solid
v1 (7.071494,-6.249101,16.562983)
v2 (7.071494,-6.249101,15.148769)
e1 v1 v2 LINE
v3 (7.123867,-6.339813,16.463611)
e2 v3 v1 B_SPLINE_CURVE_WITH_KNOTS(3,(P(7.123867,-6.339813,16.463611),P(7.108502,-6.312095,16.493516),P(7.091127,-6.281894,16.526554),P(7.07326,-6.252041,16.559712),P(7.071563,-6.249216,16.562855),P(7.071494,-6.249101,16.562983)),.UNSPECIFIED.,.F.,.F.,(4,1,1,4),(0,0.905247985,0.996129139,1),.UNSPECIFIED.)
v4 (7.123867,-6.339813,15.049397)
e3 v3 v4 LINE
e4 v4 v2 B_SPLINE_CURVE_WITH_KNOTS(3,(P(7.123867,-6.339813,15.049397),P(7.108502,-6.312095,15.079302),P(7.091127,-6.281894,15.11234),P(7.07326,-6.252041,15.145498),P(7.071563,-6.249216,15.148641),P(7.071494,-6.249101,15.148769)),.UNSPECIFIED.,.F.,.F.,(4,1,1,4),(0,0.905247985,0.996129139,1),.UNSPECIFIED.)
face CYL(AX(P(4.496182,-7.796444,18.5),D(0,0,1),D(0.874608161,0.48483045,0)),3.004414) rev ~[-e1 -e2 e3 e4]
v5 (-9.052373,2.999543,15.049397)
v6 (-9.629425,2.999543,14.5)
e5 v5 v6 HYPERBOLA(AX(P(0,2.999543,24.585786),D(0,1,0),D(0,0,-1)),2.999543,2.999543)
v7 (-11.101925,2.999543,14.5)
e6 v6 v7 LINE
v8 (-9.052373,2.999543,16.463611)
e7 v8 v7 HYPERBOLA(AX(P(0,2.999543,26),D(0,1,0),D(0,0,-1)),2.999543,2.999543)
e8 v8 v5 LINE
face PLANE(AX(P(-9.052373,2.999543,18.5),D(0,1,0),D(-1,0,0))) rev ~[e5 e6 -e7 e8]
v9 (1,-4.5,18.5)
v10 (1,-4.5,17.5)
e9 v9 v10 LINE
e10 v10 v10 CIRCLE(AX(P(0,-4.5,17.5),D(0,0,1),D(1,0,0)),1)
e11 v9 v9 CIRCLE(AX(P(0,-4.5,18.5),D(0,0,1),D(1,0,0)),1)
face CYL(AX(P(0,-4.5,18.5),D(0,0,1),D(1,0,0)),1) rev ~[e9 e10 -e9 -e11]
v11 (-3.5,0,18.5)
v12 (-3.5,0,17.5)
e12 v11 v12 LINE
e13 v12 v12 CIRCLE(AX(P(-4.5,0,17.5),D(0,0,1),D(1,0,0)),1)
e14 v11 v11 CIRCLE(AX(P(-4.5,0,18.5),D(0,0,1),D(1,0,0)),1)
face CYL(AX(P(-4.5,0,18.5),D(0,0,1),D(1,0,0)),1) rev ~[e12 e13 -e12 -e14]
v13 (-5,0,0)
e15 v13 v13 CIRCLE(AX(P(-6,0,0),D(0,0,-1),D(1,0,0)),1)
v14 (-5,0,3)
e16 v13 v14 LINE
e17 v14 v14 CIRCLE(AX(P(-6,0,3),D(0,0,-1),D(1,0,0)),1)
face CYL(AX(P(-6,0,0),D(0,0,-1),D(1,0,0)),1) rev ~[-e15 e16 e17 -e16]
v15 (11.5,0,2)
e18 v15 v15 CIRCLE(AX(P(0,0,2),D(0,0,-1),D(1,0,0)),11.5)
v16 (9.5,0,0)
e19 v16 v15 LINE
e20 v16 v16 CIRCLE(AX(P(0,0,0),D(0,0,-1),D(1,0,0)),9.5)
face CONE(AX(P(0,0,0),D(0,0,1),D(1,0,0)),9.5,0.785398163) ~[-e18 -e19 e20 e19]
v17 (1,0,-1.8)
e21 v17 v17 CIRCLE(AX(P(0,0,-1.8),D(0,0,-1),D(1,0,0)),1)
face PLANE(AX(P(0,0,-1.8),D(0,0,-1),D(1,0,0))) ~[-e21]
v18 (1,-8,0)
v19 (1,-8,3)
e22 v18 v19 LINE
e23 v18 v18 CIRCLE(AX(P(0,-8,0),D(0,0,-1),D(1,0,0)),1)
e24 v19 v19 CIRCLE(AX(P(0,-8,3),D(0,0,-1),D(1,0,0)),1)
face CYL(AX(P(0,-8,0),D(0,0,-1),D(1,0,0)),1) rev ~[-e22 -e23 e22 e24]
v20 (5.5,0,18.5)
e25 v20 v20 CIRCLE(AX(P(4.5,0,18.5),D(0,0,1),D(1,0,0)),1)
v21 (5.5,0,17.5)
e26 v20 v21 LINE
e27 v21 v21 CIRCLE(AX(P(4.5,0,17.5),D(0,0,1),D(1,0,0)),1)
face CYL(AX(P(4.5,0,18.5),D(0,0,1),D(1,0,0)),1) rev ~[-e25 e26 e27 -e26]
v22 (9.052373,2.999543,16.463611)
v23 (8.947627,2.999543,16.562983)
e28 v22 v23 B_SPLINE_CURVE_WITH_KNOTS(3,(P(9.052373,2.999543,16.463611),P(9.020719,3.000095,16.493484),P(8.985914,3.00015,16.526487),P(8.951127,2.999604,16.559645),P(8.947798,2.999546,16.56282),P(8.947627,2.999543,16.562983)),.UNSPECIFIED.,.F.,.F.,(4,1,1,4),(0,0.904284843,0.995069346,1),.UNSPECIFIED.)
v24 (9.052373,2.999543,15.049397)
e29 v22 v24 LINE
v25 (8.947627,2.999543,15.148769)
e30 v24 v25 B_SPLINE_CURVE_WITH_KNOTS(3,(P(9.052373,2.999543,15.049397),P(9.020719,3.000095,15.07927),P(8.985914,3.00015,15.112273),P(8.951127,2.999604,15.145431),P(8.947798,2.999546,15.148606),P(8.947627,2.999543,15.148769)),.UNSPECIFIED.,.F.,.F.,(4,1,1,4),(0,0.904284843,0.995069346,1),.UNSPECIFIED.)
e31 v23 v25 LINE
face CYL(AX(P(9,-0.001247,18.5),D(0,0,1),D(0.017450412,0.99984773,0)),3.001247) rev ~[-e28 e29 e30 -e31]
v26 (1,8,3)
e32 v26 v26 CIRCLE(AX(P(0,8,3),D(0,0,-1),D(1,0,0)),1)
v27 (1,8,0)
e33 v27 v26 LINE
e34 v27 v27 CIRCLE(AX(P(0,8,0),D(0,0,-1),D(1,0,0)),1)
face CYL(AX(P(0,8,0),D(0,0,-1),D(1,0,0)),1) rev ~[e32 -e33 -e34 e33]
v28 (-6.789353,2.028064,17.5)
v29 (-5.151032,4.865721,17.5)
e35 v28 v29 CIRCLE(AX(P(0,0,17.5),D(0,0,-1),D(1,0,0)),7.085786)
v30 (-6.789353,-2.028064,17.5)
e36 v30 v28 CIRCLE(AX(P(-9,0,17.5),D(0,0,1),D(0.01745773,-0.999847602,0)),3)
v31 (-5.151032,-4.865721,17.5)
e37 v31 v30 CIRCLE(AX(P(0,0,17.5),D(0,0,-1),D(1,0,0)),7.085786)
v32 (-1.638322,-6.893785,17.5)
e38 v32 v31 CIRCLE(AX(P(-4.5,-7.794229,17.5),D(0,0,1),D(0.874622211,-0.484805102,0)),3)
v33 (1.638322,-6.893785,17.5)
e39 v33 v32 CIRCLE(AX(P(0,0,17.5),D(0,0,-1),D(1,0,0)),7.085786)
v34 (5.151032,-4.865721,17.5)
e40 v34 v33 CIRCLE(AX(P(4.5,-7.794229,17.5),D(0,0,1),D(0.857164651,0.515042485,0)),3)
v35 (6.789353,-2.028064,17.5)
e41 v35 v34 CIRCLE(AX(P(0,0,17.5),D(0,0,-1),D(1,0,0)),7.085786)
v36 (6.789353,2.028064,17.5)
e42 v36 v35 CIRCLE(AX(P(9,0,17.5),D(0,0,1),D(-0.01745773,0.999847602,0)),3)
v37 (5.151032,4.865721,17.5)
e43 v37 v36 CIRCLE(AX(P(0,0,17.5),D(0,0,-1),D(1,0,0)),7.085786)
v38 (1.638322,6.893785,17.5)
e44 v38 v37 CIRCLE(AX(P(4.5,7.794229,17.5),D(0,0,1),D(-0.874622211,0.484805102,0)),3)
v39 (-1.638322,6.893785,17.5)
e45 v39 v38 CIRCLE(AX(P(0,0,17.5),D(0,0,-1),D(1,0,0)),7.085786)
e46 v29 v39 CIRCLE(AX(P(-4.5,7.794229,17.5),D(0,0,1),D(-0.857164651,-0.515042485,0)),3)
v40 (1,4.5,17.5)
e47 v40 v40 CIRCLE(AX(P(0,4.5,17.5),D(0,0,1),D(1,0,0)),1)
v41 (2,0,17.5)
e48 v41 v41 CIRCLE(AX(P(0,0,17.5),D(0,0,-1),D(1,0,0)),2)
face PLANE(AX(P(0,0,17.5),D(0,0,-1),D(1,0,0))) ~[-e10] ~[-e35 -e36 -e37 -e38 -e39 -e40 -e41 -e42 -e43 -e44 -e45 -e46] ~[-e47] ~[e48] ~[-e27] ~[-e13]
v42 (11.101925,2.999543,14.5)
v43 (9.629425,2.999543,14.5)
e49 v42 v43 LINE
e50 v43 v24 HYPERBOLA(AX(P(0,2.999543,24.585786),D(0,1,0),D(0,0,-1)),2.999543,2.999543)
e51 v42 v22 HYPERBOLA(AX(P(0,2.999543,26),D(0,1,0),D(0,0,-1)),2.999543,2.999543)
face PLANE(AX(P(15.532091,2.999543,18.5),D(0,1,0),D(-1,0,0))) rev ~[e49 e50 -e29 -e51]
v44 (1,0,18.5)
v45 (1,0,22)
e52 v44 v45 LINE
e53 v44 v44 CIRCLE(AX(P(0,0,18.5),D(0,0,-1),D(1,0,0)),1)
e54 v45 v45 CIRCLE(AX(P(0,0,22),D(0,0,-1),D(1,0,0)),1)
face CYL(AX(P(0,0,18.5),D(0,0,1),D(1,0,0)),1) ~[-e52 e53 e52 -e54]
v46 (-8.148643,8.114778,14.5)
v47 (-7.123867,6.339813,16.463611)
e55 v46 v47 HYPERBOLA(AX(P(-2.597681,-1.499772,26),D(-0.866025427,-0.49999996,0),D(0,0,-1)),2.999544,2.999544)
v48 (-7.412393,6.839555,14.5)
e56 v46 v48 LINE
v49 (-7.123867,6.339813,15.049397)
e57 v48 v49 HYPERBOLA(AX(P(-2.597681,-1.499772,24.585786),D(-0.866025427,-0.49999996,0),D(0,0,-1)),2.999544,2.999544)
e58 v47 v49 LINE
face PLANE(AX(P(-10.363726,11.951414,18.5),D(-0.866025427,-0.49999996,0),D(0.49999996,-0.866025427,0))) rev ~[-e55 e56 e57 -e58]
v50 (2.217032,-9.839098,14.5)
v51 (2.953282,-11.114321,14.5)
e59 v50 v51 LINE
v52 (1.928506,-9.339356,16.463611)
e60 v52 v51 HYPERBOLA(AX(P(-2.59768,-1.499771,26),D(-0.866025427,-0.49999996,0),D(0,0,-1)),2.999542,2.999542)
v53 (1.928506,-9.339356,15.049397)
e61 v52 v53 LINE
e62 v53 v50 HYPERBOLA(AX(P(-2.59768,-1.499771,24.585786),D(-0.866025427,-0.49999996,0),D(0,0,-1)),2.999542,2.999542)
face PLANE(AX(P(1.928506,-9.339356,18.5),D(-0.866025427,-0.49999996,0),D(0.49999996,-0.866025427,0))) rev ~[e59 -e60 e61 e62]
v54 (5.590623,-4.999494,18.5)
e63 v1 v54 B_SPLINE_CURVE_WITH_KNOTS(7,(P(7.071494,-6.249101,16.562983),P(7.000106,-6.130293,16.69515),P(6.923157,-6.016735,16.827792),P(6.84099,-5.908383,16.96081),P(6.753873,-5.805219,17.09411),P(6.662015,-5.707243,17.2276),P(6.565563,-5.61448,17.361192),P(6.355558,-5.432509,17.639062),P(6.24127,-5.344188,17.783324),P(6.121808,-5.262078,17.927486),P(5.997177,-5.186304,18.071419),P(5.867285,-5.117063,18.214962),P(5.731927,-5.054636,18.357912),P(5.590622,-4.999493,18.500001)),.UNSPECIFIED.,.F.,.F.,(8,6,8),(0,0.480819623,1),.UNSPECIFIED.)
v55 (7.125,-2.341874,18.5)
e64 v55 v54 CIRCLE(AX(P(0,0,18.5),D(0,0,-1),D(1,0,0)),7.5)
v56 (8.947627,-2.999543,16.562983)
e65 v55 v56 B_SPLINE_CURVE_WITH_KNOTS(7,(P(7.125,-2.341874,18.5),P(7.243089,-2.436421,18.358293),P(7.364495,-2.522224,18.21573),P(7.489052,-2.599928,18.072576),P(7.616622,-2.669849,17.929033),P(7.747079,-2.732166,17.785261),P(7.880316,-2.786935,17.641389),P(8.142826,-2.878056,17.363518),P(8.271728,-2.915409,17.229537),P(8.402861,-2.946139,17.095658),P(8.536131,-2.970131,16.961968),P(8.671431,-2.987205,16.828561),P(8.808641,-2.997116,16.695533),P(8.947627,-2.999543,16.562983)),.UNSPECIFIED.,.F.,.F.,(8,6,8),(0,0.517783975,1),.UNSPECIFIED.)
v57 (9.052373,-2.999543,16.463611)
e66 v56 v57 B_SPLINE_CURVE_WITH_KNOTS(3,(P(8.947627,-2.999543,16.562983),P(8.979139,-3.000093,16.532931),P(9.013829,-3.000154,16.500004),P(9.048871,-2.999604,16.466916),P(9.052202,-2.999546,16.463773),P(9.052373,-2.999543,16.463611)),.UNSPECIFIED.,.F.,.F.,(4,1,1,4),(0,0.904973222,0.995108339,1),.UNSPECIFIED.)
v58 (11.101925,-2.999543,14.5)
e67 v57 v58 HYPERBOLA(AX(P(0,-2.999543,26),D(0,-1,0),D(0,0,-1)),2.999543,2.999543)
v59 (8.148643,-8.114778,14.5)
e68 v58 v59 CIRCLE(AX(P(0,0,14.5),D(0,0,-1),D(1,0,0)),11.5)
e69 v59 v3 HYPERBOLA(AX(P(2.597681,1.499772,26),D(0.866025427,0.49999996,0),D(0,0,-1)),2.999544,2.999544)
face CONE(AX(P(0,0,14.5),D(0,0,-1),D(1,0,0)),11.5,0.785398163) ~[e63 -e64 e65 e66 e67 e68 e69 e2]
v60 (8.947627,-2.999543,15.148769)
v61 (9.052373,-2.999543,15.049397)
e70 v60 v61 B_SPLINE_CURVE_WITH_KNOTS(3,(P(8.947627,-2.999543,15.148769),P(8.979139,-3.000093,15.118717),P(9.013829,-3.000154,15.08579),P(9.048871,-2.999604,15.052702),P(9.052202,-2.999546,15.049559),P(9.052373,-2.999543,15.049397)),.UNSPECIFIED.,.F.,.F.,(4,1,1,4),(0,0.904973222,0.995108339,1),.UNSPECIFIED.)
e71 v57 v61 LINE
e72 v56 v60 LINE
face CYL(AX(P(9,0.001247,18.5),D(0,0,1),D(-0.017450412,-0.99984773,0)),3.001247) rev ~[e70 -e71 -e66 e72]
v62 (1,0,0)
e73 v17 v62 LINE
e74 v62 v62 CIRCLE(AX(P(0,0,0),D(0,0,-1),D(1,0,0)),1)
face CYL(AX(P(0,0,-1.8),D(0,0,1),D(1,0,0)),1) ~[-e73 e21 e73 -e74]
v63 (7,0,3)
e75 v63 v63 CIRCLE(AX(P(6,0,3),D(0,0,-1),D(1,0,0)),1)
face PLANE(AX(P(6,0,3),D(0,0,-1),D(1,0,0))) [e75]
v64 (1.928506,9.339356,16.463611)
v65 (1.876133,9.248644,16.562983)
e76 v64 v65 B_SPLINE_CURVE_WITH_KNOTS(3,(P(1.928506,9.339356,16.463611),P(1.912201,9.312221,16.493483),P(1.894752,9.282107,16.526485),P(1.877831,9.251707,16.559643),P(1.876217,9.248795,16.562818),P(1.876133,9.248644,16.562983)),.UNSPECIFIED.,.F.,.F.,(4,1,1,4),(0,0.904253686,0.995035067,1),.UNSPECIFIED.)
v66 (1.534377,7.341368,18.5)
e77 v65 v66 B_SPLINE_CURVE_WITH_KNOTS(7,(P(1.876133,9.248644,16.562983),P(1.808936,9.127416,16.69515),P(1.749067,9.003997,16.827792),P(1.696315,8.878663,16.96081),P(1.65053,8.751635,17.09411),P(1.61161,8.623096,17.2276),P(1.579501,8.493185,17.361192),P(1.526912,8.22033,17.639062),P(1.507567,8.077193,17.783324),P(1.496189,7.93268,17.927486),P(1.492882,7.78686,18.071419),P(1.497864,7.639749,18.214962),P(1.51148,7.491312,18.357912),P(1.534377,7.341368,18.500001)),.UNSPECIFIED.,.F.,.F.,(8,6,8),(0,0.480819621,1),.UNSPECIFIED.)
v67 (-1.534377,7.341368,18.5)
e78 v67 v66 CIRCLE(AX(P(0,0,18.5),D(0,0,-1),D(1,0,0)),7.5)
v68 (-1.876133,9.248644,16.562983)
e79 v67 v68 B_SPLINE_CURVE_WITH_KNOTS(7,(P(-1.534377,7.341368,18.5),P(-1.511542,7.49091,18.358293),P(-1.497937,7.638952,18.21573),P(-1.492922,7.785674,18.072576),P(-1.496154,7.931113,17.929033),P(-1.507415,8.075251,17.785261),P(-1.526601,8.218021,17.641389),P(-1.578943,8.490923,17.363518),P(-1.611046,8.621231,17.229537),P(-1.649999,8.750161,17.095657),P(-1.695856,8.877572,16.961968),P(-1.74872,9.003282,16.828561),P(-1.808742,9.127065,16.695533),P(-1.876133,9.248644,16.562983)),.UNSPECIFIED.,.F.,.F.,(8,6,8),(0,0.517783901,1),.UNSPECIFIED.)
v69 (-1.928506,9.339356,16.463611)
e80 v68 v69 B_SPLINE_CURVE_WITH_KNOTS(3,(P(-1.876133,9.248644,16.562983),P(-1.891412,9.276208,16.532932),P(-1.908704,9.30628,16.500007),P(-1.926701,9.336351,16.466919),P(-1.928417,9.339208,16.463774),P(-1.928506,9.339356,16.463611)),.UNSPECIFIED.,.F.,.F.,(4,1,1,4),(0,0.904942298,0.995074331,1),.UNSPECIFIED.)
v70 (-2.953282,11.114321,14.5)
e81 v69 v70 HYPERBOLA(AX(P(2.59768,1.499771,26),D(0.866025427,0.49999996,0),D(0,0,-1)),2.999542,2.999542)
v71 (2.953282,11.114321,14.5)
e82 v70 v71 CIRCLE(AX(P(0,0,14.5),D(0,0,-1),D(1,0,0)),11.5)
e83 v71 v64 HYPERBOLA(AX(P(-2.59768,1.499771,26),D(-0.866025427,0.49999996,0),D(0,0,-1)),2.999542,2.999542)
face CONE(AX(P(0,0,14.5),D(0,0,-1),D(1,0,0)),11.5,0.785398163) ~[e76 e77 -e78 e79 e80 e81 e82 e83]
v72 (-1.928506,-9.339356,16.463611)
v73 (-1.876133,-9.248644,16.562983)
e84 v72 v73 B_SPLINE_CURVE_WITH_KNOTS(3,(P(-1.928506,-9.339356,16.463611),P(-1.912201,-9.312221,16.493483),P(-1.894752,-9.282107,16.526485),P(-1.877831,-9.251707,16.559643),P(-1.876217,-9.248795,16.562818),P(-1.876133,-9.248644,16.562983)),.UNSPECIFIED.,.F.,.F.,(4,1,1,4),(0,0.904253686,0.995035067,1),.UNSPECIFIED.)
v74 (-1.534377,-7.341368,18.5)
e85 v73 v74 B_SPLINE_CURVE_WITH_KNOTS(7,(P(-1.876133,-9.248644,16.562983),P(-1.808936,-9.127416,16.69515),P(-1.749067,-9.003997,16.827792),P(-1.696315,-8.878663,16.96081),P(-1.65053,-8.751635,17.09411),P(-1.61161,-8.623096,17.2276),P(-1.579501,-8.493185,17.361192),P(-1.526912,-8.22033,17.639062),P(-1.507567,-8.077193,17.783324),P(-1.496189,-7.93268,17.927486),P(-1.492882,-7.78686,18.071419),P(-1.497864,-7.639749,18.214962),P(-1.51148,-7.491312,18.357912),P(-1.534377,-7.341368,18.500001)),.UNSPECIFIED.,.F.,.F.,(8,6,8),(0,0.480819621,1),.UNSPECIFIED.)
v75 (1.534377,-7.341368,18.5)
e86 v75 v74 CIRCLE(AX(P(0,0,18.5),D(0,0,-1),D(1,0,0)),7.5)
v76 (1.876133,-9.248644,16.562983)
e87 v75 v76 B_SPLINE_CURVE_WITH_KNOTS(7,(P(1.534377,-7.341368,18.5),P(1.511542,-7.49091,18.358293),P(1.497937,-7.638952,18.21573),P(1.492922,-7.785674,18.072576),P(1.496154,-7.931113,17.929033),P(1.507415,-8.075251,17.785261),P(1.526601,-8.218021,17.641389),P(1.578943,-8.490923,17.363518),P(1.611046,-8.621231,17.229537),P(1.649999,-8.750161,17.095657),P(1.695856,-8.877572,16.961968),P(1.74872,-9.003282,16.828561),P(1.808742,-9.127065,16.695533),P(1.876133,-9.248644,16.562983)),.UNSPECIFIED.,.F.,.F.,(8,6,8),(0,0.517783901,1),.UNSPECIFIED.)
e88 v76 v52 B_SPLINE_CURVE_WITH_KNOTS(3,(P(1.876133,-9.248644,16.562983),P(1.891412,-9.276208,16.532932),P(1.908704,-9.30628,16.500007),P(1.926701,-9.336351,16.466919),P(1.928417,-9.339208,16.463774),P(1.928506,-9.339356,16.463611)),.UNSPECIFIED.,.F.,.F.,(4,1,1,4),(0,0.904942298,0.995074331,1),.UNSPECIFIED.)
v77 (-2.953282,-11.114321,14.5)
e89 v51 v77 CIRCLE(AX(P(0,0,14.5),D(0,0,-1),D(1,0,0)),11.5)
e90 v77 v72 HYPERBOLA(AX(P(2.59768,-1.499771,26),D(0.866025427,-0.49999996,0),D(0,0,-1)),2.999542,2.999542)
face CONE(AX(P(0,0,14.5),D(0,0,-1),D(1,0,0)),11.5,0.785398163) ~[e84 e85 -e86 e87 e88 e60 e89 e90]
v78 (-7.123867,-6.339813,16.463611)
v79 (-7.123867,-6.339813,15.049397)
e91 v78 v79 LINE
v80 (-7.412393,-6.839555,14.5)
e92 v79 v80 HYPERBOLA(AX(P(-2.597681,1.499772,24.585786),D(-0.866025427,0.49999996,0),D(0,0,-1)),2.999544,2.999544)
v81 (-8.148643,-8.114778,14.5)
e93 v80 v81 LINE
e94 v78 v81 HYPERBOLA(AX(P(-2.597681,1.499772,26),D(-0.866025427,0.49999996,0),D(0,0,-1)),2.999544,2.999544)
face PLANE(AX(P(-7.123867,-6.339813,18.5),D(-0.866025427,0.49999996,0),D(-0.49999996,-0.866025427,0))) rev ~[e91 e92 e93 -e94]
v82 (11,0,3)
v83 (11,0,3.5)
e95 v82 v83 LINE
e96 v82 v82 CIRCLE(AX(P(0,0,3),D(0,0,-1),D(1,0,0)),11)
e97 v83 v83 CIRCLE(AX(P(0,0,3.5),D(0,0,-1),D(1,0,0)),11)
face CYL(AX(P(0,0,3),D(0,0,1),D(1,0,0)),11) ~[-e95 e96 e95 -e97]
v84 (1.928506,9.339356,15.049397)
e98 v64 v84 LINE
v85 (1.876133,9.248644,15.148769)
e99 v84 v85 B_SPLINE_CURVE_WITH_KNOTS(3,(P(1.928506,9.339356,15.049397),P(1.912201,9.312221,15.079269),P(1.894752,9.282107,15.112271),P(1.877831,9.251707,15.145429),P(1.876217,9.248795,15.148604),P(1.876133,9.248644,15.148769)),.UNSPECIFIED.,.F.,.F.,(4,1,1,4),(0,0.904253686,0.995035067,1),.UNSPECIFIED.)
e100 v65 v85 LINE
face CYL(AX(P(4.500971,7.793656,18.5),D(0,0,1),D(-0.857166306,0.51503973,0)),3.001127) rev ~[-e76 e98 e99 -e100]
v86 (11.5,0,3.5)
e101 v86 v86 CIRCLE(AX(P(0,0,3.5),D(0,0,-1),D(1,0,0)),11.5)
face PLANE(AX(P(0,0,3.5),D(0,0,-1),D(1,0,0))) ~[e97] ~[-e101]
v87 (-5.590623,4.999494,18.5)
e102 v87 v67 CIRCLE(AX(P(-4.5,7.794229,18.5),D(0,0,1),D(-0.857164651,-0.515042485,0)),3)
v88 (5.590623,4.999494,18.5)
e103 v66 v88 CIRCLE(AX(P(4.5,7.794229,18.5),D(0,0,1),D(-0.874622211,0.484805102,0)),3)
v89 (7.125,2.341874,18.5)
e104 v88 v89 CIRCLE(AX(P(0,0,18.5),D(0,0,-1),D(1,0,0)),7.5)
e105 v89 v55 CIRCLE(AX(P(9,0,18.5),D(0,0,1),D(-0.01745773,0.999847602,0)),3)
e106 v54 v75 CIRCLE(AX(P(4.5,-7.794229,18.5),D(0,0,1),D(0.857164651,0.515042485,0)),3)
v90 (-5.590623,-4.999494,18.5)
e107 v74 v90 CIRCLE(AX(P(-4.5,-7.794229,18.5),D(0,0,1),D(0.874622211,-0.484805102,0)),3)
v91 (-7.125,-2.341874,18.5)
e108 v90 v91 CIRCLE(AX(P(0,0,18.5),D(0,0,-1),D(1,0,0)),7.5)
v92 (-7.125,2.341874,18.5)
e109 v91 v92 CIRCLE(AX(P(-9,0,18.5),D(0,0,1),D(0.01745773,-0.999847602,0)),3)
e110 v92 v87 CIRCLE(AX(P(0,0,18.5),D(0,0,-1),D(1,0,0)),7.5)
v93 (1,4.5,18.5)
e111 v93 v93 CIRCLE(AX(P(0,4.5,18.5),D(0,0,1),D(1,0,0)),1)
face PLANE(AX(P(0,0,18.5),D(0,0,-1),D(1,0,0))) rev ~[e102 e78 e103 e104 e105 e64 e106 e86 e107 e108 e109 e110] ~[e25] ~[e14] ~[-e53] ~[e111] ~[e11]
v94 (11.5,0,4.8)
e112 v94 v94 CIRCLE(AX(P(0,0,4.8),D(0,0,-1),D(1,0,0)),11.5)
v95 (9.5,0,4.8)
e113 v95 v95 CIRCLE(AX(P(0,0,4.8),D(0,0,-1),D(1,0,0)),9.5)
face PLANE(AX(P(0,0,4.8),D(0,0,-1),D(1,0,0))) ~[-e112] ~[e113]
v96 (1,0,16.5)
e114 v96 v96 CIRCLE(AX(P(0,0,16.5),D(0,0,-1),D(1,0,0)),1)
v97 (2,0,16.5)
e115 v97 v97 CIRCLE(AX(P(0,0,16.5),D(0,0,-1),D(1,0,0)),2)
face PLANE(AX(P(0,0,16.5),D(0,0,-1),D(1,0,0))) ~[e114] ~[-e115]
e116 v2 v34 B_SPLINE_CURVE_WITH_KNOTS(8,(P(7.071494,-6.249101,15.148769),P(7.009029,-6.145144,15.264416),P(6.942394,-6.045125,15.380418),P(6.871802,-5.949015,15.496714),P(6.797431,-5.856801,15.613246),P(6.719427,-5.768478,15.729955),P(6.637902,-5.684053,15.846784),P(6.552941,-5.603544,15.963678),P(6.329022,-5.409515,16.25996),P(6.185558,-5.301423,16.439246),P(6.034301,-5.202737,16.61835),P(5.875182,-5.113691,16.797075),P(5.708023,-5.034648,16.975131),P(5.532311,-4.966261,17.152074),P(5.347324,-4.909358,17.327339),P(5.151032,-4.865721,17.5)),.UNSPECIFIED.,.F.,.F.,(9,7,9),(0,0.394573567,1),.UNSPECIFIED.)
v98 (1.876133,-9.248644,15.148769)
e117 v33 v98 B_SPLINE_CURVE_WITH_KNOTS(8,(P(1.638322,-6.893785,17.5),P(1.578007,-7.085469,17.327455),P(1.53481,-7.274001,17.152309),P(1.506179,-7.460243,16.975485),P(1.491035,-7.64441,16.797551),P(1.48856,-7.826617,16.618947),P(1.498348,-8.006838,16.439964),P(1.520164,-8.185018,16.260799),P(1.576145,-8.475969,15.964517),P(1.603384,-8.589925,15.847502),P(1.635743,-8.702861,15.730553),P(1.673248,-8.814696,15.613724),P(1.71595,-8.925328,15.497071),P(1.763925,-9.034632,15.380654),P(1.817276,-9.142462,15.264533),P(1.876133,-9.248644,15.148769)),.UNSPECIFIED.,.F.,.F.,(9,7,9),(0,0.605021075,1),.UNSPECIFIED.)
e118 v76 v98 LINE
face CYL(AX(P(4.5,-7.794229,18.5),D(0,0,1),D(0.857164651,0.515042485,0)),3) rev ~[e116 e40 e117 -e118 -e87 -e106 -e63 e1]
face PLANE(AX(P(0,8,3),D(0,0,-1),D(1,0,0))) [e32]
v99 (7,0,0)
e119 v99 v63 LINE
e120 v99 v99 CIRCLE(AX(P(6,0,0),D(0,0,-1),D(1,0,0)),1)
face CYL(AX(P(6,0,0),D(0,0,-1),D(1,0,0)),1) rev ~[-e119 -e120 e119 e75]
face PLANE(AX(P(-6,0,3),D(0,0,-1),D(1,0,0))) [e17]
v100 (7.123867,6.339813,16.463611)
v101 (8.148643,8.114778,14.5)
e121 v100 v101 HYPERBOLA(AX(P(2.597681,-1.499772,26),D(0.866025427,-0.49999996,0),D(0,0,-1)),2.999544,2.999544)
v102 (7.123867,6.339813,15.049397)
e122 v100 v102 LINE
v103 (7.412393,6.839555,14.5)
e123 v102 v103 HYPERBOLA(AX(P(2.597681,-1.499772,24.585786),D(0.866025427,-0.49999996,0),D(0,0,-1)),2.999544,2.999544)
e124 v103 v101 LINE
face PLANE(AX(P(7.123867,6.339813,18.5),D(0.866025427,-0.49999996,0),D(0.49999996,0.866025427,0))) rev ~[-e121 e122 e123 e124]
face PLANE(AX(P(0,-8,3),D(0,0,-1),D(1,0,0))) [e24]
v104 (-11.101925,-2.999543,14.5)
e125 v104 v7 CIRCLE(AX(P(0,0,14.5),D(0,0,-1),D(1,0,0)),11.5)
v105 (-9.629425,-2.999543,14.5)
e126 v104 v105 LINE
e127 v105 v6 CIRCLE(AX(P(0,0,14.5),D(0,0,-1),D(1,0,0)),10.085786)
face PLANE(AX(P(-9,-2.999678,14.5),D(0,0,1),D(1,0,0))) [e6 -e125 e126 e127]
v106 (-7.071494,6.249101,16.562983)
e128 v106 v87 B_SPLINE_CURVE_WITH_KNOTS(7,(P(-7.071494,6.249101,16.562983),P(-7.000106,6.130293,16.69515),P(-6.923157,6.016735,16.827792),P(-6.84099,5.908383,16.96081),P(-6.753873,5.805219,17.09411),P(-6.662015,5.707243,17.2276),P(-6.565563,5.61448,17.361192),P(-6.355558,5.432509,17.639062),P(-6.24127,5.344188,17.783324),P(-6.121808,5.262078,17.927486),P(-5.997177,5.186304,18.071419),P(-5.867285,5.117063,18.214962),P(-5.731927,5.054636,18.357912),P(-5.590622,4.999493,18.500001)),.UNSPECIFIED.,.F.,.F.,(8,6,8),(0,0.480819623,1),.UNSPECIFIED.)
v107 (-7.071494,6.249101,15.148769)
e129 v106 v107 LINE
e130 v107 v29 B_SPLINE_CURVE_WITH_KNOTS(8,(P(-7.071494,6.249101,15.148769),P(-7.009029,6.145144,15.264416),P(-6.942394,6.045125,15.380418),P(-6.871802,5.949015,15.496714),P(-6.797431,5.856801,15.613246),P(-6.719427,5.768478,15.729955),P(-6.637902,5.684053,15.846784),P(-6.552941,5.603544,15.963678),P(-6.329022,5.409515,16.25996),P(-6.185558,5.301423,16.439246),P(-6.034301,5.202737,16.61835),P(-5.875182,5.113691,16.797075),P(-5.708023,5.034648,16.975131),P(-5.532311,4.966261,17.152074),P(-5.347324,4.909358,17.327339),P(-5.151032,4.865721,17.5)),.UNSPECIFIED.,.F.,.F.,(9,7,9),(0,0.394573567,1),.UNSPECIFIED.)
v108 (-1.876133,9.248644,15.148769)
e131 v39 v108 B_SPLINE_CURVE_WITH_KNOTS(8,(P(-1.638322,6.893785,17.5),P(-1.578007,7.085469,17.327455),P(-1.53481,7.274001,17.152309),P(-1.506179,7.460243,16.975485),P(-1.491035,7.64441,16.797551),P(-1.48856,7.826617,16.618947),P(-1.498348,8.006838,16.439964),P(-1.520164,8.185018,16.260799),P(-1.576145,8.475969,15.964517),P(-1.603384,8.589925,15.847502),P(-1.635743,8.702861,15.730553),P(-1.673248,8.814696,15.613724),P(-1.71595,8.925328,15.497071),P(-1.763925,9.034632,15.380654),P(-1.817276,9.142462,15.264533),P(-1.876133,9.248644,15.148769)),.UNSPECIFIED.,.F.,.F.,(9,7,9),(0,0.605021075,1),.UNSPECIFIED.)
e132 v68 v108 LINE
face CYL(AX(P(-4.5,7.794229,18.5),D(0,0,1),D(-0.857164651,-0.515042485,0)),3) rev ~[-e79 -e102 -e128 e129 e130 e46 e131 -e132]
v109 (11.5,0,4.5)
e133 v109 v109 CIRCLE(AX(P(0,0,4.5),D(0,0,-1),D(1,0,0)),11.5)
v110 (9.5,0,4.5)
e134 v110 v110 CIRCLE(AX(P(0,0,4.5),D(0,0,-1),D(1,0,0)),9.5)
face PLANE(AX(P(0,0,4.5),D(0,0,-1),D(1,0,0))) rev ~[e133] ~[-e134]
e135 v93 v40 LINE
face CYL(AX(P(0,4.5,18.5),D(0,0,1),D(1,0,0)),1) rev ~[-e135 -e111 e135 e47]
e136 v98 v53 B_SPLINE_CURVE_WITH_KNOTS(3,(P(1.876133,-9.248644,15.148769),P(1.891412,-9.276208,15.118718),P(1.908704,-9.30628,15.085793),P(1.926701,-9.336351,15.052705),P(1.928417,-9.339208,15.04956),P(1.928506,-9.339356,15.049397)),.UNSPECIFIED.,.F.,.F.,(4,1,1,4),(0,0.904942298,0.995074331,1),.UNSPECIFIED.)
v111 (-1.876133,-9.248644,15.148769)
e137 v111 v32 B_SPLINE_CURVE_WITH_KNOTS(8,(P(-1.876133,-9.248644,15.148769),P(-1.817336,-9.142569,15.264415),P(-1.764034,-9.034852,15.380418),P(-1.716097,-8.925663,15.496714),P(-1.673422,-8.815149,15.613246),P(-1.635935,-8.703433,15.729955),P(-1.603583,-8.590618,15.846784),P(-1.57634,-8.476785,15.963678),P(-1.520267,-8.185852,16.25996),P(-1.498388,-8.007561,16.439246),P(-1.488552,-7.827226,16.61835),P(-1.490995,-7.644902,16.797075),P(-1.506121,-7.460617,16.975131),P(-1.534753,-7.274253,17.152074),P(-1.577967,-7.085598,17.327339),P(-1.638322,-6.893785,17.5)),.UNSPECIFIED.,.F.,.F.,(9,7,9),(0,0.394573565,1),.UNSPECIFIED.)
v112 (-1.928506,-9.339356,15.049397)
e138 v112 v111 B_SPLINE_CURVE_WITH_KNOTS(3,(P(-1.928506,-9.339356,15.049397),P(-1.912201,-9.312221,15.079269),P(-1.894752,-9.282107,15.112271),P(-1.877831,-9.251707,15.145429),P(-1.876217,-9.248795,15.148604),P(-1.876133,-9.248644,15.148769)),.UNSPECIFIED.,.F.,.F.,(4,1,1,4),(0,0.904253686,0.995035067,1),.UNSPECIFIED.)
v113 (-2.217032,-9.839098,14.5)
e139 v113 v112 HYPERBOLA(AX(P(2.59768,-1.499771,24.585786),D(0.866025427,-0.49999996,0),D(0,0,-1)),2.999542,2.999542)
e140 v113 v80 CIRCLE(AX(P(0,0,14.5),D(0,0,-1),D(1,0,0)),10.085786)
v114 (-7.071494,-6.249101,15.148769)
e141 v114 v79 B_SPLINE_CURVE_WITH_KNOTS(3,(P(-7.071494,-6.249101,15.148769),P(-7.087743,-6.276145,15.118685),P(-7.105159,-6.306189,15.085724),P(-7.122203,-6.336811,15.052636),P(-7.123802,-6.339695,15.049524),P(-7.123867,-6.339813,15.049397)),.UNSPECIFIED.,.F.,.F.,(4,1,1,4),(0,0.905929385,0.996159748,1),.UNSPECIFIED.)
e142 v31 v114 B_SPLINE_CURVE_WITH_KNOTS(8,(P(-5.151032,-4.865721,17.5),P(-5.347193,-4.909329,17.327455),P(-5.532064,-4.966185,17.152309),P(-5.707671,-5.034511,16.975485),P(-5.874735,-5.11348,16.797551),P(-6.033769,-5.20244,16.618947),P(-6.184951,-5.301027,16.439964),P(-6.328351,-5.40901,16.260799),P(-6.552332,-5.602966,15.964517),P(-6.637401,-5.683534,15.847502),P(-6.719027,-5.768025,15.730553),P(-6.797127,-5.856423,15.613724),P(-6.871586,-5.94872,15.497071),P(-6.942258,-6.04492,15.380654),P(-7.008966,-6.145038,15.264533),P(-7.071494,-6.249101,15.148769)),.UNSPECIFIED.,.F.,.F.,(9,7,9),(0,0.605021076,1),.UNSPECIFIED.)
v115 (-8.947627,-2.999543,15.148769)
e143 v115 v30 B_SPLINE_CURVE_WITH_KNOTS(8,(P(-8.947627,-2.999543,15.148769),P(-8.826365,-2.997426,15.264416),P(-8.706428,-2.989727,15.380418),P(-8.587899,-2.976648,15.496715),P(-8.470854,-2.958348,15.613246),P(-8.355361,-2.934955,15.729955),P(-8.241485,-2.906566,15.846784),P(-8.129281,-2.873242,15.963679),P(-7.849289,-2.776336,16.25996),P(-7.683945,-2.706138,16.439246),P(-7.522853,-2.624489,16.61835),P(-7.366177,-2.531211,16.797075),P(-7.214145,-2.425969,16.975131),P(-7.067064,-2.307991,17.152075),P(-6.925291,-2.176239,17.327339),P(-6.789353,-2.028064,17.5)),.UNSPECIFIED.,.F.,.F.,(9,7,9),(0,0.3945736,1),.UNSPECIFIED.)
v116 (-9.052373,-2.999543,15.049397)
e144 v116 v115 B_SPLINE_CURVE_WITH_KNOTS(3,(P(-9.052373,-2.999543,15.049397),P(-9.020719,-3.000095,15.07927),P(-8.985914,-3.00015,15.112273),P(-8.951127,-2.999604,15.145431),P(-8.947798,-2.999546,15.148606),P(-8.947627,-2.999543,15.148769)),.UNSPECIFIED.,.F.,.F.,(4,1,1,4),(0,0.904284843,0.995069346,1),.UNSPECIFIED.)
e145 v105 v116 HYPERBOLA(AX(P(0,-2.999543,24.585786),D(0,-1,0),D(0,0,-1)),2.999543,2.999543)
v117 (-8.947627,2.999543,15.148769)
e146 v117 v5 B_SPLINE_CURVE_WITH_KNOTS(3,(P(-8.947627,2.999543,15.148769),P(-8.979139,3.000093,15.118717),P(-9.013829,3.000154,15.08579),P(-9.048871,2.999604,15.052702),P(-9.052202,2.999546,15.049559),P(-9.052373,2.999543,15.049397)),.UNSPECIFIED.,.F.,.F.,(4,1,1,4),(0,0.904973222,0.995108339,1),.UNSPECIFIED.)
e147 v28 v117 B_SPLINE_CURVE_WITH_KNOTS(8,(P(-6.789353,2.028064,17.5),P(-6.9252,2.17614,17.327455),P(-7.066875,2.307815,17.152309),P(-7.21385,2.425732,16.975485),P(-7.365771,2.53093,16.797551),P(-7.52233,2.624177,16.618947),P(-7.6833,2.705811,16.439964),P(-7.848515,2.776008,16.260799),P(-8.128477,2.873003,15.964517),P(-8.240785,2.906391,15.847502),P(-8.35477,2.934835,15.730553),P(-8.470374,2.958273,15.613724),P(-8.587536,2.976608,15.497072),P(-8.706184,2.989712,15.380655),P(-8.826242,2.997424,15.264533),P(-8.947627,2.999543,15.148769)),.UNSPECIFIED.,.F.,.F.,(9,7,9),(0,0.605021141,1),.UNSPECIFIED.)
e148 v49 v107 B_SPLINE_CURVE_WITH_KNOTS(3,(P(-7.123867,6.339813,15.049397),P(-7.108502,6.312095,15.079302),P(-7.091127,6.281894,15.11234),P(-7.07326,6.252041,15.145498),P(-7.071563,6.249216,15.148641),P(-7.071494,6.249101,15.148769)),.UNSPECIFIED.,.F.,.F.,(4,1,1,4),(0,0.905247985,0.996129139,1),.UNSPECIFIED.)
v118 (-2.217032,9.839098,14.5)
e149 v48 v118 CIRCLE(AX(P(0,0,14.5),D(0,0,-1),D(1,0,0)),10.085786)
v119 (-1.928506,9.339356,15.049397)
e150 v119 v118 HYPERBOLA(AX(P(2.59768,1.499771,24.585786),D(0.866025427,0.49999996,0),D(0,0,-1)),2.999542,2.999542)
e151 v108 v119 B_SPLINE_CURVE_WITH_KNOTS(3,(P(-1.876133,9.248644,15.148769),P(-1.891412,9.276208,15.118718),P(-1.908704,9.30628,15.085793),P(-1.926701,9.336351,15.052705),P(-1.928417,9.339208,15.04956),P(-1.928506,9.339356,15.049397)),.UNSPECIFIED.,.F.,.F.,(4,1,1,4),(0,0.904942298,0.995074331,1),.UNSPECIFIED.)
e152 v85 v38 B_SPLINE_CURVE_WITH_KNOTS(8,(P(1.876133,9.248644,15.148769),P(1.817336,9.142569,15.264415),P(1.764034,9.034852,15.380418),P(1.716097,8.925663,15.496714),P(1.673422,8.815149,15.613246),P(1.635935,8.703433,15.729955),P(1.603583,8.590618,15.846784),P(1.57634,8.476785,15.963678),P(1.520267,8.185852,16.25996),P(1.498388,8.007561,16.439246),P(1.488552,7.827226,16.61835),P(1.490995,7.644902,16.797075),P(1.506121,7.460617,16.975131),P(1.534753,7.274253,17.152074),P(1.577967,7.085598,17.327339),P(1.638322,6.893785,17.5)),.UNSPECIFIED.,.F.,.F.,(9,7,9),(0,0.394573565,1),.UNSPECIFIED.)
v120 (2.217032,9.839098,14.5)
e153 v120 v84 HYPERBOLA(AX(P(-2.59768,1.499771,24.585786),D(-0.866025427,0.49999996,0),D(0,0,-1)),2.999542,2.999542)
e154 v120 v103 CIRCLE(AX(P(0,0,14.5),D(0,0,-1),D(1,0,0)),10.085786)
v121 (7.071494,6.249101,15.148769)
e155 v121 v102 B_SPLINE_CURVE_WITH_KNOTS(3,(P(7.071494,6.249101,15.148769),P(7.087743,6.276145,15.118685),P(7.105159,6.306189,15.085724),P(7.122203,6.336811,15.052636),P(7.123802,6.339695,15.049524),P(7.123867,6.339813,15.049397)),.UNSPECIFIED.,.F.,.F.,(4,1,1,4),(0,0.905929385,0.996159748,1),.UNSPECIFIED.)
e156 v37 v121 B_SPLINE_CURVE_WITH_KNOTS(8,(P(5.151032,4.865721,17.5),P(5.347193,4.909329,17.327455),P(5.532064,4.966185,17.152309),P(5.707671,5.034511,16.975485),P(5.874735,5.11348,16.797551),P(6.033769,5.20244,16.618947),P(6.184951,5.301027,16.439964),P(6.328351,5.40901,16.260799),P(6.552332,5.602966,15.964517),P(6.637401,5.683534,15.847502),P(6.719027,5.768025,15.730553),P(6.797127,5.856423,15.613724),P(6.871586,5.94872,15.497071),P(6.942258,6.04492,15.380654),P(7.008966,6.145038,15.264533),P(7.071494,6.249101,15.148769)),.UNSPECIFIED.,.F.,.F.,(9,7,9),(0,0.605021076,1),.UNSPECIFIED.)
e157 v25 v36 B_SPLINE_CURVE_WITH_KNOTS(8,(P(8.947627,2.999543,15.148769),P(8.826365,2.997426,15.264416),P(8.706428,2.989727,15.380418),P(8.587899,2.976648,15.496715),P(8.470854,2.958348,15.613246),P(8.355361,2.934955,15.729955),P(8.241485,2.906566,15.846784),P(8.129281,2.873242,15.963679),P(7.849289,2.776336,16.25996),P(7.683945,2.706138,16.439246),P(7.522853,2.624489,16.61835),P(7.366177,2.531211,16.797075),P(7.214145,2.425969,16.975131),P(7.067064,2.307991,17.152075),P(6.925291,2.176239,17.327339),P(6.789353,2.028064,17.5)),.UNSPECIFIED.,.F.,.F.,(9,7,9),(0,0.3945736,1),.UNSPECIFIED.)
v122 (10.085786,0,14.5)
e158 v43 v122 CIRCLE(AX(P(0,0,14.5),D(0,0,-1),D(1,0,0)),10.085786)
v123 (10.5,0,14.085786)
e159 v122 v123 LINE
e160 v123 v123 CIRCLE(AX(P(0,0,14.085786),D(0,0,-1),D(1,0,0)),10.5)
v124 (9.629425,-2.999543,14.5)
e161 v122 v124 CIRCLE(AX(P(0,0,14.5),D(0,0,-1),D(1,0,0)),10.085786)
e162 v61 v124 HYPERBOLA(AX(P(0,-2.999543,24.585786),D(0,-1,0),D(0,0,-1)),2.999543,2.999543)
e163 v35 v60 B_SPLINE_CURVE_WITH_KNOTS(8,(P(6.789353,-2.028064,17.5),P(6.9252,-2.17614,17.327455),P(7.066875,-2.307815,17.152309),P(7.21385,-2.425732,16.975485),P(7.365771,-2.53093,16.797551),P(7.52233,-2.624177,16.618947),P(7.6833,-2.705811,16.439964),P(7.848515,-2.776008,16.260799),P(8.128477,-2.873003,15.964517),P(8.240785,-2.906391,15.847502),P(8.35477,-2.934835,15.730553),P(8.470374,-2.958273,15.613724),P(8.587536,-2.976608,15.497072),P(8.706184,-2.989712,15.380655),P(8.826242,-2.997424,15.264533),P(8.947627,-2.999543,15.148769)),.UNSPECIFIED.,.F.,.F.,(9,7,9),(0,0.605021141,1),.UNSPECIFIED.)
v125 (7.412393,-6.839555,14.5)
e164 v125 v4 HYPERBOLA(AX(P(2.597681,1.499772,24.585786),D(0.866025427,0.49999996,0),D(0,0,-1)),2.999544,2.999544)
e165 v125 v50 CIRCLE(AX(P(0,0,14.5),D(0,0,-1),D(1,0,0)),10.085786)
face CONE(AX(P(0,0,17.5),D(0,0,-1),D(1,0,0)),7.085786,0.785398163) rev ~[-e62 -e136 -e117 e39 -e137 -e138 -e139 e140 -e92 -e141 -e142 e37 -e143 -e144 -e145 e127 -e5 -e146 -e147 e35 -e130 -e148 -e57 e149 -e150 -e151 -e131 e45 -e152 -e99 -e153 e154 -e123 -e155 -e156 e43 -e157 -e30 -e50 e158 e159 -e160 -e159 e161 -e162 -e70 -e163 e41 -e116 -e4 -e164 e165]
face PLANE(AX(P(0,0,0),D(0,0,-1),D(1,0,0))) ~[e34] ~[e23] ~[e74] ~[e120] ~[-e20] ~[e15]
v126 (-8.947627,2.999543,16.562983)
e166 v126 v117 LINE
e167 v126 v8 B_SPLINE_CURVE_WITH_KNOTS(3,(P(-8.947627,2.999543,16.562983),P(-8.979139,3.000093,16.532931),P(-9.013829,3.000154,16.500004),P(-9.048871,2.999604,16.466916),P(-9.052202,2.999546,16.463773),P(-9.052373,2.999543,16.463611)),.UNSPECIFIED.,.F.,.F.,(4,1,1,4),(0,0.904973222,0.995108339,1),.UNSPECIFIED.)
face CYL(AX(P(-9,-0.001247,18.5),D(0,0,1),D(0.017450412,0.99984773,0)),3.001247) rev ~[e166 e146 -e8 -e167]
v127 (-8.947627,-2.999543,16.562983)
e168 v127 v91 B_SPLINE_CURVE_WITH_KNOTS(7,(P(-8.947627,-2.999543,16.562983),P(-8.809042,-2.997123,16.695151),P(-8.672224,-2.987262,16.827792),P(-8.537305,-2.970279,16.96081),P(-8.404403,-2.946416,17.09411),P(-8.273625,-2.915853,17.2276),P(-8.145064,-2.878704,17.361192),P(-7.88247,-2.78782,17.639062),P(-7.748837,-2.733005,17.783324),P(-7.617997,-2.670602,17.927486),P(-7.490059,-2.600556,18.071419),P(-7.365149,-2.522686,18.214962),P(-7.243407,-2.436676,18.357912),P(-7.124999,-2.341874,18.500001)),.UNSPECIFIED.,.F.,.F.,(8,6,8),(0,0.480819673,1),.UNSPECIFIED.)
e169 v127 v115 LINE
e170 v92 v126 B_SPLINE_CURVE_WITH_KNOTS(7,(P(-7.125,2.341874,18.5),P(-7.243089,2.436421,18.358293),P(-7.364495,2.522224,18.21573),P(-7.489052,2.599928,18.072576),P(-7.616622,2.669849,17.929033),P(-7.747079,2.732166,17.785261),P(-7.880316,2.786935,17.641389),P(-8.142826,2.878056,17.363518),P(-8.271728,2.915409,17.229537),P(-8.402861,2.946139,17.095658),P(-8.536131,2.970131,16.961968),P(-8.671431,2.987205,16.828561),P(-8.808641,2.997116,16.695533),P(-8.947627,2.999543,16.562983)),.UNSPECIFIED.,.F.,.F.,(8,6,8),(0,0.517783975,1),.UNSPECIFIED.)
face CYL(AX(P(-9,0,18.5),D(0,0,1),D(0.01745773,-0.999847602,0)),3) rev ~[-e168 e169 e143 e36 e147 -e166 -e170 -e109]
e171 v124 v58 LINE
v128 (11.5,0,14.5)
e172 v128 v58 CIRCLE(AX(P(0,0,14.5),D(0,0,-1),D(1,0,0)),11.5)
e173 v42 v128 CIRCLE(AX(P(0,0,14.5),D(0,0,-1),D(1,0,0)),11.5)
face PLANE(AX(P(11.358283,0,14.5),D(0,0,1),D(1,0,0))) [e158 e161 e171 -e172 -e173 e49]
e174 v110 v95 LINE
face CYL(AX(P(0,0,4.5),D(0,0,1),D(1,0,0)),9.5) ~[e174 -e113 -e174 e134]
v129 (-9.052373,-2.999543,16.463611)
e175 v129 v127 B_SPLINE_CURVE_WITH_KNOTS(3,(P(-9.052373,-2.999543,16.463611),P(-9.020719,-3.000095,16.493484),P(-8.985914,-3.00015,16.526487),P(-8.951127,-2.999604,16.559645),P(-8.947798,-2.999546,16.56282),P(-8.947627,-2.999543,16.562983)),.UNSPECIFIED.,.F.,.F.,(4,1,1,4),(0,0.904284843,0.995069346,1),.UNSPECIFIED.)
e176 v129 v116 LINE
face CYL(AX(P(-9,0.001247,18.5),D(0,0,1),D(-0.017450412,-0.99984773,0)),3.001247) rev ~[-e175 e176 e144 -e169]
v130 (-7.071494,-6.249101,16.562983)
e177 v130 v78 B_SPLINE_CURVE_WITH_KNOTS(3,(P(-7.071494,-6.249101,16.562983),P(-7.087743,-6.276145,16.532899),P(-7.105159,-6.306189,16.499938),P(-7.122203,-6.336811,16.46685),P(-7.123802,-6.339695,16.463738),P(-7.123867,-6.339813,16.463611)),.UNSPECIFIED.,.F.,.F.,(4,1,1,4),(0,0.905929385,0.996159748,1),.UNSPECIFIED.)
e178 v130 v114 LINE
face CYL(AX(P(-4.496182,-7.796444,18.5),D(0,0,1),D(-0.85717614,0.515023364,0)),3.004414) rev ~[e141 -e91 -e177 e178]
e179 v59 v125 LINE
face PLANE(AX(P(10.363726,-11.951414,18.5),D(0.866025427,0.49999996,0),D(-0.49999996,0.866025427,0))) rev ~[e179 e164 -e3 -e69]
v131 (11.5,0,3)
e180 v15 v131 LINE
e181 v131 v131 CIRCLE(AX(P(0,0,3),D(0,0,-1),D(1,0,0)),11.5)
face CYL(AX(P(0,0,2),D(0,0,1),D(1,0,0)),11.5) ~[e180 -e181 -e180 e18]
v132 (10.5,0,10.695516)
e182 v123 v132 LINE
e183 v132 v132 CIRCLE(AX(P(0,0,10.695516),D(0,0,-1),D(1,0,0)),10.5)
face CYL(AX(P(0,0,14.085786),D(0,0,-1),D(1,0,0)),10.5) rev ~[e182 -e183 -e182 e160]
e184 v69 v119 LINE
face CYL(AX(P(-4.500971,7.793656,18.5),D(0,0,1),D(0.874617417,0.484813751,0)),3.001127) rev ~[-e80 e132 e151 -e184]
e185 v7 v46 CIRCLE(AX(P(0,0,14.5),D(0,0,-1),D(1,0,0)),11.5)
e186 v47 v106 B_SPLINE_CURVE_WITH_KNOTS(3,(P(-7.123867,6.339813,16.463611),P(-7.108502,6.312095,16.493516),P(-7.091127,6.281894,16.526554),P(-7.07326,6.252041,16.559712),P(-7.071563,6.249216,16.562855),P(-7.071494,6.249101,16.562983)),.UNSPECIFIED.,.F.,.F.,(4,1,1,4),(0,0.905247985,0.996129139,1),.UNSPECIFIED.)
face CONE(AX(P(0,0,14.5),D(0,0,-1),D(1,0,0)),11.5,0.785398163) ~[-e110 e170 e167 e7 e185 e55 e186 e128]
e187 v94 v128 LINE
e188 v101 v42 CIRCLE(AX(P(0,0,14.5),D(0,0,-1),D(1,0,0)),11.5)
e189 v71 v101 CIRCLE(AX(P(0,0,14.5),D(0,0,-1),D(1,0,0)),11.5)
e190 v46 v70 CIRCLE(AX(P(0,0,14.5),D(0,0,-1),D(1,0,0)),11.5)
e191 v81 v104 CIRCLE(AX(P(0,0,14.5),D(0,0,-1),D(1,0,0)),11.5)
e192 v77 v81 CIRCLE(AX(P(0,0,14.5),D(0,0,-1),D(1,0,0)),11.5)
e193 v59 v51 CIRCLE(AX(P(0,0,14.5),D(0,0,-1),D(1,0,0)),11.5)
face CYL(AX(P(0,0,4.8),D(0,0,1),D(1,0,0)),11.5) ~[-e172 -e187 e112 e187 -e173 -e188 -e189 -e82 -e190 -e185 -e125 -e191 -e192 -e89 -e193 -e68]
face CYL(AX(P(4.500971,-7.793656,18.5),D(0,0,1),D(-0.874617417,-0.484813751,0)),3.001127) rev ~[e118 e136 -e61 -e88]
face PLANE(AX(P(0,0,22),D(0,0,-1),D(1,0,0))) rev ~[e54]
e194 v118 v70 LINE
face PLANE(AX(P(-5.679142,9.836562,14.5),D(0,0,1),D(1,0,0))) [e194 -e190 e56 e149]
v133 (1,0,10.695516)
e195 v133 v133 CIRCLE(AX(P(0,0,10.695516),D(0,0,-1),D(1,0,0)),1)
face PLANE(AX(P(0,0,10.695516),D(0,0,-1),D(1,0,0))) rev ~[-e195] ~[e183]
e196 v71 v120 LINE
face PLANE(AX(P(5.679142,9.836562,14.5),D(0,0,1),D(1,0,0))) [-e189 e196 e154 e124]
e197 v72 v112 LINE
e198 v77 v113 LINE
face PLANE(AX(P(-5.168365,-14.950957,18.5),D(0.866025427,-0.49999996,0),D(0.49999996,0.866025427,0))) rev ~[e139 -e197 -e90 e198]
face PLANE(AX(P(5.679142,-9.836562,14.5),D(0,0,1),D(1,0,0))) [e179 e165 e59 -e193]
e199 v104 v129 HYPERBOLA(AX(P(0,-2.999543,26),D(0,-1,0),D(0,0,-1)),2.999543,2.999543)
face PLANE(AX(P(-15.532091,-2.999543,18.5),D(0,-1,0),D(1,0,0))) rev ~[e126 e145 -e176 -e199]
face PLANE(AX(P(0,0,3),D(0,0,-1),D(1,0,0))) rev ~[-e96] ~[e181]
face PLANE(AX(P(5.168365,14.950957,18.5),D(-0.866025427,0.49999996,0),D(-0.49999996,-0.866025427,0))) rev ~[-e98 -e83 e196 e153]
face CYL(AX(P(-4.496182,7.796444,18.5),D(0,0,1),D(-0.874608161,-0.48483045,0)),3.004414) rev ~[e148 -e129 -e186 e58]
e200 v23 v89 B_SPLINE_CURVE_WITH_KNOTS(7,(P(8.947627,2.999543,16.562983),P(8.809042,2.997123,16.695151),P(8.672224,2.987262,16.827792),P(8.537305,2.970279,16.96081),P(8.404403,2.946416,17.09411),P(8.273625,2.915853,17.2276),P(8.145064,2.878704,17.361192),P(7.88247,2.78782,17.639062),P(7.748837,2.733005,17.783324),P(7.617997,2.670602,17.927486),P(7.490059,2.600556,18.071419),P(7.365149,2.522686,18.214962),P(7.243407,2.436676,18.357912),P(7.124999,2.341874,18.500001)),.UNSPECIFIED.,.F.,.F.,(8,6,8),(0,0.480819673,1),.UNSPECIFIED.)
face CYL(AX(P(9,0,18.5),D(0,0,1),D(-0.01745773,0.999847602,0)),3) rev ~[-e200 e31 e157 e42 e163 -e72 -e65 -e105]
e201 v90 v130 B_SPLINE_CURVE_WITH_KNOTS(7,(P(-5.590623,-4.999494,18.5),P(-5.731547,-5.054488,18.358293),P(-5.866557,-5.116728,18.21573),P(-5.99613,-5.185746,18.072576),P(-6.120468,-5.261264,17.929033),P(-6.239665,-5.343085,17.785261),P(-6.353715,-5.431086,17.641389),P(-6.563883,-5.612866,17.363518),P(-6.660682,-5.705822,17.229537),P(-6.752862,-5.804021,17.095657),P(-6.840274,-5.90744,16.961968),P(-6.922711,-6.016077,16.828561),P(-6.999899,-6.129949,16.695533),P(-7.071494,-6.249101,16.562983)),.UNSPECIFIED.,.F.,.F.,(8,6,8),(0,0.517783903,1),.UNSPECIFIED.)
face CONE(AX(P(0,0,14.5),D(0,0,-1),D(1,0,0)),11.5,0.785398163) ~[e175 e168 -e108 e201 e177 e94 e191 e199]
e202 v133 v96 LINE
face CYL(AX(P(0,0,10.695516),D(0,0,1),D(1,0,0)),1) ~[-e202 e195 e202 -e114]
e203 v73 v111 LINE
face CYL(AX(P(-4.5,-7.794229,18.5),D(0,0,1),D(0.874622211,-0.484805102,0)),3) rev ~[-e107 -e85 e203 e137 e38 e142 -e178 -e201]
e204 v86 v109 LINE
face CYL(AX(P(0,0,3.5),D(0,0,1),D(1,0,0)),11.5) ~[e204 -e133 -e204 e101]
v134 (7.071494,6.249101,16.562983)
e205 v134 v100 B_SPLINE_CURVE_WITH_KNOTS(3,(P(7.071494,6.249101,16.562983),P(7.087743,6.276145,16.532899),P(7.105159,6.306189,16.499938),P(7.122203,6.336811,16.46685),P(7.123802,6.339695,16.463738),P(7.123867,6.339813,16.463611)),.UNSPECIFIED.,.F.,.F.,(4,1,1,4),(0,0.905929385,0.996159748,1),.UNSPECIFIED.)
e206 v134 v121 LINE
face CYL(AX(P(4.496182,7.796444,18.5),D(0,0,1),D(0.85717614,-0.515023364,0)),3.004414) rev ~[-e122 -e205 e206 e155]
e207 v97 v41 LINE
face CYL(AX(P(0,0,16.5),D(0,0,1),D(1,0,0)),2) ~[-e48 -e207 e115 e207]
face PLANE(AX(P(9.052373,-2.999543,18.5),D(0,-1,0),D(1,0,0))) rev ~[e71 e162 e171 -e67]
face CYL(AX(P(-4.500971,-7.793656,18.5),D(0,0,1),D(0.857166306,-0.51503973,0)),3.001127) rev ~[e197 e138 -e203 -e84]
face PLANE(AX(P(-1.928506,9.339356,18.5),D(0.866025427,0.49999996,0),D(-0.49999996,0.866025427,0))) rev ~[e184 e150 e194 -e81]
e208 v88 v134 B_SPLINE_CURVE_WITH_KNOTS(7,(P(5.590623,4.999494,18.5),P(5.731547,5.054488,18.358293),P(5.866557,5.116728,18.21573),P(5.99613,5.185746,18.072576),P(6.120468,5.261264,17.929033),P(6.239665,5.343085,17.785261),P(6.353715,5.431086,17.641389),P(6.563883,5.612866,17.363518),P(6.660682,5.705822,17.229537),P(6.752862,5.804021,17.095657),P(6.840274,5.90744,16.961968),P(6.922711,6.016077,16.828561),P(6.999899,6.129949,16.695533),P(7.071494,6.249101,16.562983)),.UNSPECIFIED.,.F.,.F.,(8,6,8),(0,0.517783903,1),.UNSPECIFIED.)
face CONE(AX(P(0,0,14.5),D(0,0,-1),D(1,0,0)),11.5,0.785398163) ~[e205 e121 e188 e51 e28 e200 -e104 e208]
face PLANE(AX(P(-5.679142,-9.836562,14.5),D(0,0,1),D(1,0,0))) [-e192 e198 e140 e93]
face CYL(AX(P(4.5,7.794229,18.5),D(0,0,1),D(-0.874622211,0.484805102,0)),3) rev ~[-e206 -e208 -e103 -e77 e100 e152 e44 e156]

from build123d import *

# Parameters (mm, degrees)
F2_R     = 1
F3_DEPTH = 4
F4_R     = 1
F5_DEPTH = 3


with BuildPart() as f1:
    # F0 (on Front) → F1 (revolve)
    with BuildSketch(Plane.XZ):
        Polygon((1, 22), (0, 22), (0, 0), (0, -1.8), (1, -1.8), (1, 0), (9.5, 0), (11.5, 2), (11.5, 3), (11, 3), (11, 3.5), (11.5, 3.5), (11.5, 4.5), (9.5, 4.5), (9.5, 4.8), (11.5, 4.8), (11.5, 14.5), (7.5, 18.5), (1, 18.5), align=None)
        Polygon((2, 16.5), (2, 17.5), (7.085786, 17.5), (10.5, 14.085786), (10.5, 10.695516), (1, 10.695516), (1, 16.5), align=None, mode=Mode.SUBTRACT)
    revolve(axis=Axis((0, 0, 11), (0, 0, -1)))

    # F2 (on face) → F3 (cut)
    with BuildSketch(Plane.XY.offset(18.5)):
        with Locations((4.5, 0)):
            Circle(F2_R)
        with Locations((0, 4.5)):
            Circle(F2_R)
        with Locations((-4.5, 0)):
            Circle(F2_R)
        with Locations((0, -4.5)):
            Circle(F2_R)
        with BuildLine():
            Line((-8.947627, -2.999543), (-9.052373, -2.999543))
            ThreePointArc((-9.052373, -2.999543), (-9, -3), (-8.947627, -2.999543))
        make_face()
        with BuildLine():
            Line((-15.532091, -2.999543), (-9.052373, -2.999543))
            Line((-9.052373, -2.999543), (-8.947627, -2.999543))
            ThreePointArc((-8.947627, -2.999543), (-6, 0), (-8.947627, 2.999543))
            Line((-8.947627, 2.999543), (-9.052373, 2.999543))
            Line((-9.052373, 2.999543), (-15.532091, 2.999543))
            Line((-15.532091, 2.999543), (-15.532091, -2.999543))
        make_face()
        with BuildLine():
            Line((-9.052373, 2.999543), (-8.947627, 2.999543))
            ThreePointArc((-8.947627, 2.999543), (-9, 3), (-9.052373, 2.999543))
        make_face()
        with BuildLine():
            Line((-10.363726, -11.951414), (-5.168365, -14.950957))
            Line((-5.168365, -14.950957), (-1.928506, -9.339356))
            Line((-1.928506, -9.339356), (-1.876133, -9.248644))
            ThreePointArc((-1.876133, -9.248644), (-3, -5.196152), (-7.071494, -6.249101))
            Line((-7.071494, -6.249101), (-7.123867, -6.339813))
            Line((-7.123867, -6.339813), (-10.363726, -11.951414))
        make_face()
        with BuildLine():
            Line((-1.876133, -9.248644), (-1.928506, -9.339356))
            ThreePointArc((-1.928506, -9.339356), (-1.901924, -9.294229), (-1.876133, -9.248644))
        make_face()
        with BuildLine():
            ThreePointArc((-7.071494, -6.249101), (-7.098076, -6.294229), (-7.123867, -6.339813))
            Line((-7.123867, -6.339813), (-7.071494, -6.249101))
        make_face()
        with BuildLine():
            Line((5.168365, -14.950957), (10.363726, -11.951414))
            Line((10.363726, -11.951414), (7.123867, -6.339813))
            Line((7.123867, -6.339813), (7.071494, -6.249101))
            ThreePointArc((7.071494, -6.249101), (3, -5.196152), (1.876133, -9.248644))
            Line((1.876133, -9.248644), (1.928506, -9.339356))
            Line((1.928506, -9.339356), (5.168365, -14.950957))
        make_face()
        with BuildLine():
            Line((7.071494, -6.249101), (7.123867, -6.339813))
            ThreePointArc((7.123867, -6.339813), (7.098076, -6.294229), (7.071494, -6.249101))
        make_face()
        with BuildLine():
            ThreePointArc((1.876133, -9.248644), (1.901924, -9.294229), (1.928506, -9.339356))
            Line((1.928506, -9.339356), (1.876133, -9.248644))
        make_face()
        with BuildLine():
            Line((15.532091, -2.999543), (15.532091, 2.999543))
            Line((15.532091, 2.999543), (9.052373, 2.999543))
            Line((9.052373, 2.999543), (8.947627, 2.999543))
            ThreePointArc((8.947627, 2.999543), (6, 0), (8.947627, -2.999543))
            Line((8.947627, -2.999543), (9.052373, -2.999543))
            Line((9.052373, -2.999543), (15.532091, -2.999543))
        make_face()
        with BuildLine():
            Line((8.947627, 2.999543), (9.052373, 2.999543))
            ThreePointArc((9.052373, 2.999543), (9, 3), (8.947627, 2.999543))
        make_face()
        with BuildLine():
            ThreePointArc((8.947627, -2.999543), (9, -3), (9.052373, -2.999543))
            Line((9.052373, -2.999543), (8.947627, -2.999543))
        make_face()
        with BuildLine():
            Line((10.363726, 11.951414), (5.168365, 14.950957))
            Line((5.168365, 14.950957), (1.928506, 9.339356))
            Line((1.928506, 9.339356), (1.876133, 9.248644))
            ThreePointArc((1.876133, 9.248644), (3, 5.196152), (7.071494, 6.249101))
            Line((7.071494, 6.249101), (7.123867, 6.339813))
            Line((7.123867, 6.339813), (10.363726, 11.951414))
        make_face()
        with BuildLine():
            Line((1.876133, 9.248644), (1.928506, 9.339356))
            ThreePointArc((1.928506, 9.339356), (1.901924, 9.294229), (1.876133, 9.248644))
        make_face()
        with BuildLine():
            ThreePointArc((7.071494, 6.249101), (7.098076, 6.294229), (7.123867, 6.339813))
            Line((7.123867, 6.339813), (7.071494, 6.249101))
        make_face()
        with BuildLine():
            Line((-5.168365, 14.950957), (-10.363726, 11.951414))
            Line((-10.363726, 11.951414), (-7.123867, 6.339813))
            Line((-7.123867, 6.339813), (-7.071494, 6.249101))
            ThreePointArc((-7.071494, 6.249101), (-3, 5.196152), (-1.876133, 9.248644))
            Line((-1.876133, 9.248644), (-1.928506, 9.339356))
            Line((-1.928506, 9.339356), (-5.168365, 14.950957))
        make_face()
        with BuildLine():
            Line((-7.071494, 6.249101), (-7.123867, 6.339813))
            ThreePointArc((-7.123867, 6.339813), (-7.098076, 6.294229), (-7.071494, 6.249101))
        make_face()
        with BuildLine():
            ThreePointArc((-1.876133, 9.248644), (-1.901924, 9.294229), (-1.928506, 9.339356))
            Line((-1.928506, 9.339356), (-1.876133, 9.248644))
        make_face()
    extrude(amount=-F3_DEPTH, mode=Mode.SUBTRACT)

    # F4 (on face) → F5 (cut)
    with BuildSketch(Plane(origin=(0, 0, 0), x_dir=(1, 0, 0), z_dir=(0, 0, -1))):
        with Locations((6, 0)):
            Circle(F4_R)
        with Locations((-6, 0)):
            Circle(F4_R)
        with Locations((0, -8)):
            Circle(F4_R)
        with Locations((0, 8)):
            Circle(F4_R)
    extrude(amount=-F5_DEPTH, mode=Mode.SUBTRACT)


solid = f1.part
